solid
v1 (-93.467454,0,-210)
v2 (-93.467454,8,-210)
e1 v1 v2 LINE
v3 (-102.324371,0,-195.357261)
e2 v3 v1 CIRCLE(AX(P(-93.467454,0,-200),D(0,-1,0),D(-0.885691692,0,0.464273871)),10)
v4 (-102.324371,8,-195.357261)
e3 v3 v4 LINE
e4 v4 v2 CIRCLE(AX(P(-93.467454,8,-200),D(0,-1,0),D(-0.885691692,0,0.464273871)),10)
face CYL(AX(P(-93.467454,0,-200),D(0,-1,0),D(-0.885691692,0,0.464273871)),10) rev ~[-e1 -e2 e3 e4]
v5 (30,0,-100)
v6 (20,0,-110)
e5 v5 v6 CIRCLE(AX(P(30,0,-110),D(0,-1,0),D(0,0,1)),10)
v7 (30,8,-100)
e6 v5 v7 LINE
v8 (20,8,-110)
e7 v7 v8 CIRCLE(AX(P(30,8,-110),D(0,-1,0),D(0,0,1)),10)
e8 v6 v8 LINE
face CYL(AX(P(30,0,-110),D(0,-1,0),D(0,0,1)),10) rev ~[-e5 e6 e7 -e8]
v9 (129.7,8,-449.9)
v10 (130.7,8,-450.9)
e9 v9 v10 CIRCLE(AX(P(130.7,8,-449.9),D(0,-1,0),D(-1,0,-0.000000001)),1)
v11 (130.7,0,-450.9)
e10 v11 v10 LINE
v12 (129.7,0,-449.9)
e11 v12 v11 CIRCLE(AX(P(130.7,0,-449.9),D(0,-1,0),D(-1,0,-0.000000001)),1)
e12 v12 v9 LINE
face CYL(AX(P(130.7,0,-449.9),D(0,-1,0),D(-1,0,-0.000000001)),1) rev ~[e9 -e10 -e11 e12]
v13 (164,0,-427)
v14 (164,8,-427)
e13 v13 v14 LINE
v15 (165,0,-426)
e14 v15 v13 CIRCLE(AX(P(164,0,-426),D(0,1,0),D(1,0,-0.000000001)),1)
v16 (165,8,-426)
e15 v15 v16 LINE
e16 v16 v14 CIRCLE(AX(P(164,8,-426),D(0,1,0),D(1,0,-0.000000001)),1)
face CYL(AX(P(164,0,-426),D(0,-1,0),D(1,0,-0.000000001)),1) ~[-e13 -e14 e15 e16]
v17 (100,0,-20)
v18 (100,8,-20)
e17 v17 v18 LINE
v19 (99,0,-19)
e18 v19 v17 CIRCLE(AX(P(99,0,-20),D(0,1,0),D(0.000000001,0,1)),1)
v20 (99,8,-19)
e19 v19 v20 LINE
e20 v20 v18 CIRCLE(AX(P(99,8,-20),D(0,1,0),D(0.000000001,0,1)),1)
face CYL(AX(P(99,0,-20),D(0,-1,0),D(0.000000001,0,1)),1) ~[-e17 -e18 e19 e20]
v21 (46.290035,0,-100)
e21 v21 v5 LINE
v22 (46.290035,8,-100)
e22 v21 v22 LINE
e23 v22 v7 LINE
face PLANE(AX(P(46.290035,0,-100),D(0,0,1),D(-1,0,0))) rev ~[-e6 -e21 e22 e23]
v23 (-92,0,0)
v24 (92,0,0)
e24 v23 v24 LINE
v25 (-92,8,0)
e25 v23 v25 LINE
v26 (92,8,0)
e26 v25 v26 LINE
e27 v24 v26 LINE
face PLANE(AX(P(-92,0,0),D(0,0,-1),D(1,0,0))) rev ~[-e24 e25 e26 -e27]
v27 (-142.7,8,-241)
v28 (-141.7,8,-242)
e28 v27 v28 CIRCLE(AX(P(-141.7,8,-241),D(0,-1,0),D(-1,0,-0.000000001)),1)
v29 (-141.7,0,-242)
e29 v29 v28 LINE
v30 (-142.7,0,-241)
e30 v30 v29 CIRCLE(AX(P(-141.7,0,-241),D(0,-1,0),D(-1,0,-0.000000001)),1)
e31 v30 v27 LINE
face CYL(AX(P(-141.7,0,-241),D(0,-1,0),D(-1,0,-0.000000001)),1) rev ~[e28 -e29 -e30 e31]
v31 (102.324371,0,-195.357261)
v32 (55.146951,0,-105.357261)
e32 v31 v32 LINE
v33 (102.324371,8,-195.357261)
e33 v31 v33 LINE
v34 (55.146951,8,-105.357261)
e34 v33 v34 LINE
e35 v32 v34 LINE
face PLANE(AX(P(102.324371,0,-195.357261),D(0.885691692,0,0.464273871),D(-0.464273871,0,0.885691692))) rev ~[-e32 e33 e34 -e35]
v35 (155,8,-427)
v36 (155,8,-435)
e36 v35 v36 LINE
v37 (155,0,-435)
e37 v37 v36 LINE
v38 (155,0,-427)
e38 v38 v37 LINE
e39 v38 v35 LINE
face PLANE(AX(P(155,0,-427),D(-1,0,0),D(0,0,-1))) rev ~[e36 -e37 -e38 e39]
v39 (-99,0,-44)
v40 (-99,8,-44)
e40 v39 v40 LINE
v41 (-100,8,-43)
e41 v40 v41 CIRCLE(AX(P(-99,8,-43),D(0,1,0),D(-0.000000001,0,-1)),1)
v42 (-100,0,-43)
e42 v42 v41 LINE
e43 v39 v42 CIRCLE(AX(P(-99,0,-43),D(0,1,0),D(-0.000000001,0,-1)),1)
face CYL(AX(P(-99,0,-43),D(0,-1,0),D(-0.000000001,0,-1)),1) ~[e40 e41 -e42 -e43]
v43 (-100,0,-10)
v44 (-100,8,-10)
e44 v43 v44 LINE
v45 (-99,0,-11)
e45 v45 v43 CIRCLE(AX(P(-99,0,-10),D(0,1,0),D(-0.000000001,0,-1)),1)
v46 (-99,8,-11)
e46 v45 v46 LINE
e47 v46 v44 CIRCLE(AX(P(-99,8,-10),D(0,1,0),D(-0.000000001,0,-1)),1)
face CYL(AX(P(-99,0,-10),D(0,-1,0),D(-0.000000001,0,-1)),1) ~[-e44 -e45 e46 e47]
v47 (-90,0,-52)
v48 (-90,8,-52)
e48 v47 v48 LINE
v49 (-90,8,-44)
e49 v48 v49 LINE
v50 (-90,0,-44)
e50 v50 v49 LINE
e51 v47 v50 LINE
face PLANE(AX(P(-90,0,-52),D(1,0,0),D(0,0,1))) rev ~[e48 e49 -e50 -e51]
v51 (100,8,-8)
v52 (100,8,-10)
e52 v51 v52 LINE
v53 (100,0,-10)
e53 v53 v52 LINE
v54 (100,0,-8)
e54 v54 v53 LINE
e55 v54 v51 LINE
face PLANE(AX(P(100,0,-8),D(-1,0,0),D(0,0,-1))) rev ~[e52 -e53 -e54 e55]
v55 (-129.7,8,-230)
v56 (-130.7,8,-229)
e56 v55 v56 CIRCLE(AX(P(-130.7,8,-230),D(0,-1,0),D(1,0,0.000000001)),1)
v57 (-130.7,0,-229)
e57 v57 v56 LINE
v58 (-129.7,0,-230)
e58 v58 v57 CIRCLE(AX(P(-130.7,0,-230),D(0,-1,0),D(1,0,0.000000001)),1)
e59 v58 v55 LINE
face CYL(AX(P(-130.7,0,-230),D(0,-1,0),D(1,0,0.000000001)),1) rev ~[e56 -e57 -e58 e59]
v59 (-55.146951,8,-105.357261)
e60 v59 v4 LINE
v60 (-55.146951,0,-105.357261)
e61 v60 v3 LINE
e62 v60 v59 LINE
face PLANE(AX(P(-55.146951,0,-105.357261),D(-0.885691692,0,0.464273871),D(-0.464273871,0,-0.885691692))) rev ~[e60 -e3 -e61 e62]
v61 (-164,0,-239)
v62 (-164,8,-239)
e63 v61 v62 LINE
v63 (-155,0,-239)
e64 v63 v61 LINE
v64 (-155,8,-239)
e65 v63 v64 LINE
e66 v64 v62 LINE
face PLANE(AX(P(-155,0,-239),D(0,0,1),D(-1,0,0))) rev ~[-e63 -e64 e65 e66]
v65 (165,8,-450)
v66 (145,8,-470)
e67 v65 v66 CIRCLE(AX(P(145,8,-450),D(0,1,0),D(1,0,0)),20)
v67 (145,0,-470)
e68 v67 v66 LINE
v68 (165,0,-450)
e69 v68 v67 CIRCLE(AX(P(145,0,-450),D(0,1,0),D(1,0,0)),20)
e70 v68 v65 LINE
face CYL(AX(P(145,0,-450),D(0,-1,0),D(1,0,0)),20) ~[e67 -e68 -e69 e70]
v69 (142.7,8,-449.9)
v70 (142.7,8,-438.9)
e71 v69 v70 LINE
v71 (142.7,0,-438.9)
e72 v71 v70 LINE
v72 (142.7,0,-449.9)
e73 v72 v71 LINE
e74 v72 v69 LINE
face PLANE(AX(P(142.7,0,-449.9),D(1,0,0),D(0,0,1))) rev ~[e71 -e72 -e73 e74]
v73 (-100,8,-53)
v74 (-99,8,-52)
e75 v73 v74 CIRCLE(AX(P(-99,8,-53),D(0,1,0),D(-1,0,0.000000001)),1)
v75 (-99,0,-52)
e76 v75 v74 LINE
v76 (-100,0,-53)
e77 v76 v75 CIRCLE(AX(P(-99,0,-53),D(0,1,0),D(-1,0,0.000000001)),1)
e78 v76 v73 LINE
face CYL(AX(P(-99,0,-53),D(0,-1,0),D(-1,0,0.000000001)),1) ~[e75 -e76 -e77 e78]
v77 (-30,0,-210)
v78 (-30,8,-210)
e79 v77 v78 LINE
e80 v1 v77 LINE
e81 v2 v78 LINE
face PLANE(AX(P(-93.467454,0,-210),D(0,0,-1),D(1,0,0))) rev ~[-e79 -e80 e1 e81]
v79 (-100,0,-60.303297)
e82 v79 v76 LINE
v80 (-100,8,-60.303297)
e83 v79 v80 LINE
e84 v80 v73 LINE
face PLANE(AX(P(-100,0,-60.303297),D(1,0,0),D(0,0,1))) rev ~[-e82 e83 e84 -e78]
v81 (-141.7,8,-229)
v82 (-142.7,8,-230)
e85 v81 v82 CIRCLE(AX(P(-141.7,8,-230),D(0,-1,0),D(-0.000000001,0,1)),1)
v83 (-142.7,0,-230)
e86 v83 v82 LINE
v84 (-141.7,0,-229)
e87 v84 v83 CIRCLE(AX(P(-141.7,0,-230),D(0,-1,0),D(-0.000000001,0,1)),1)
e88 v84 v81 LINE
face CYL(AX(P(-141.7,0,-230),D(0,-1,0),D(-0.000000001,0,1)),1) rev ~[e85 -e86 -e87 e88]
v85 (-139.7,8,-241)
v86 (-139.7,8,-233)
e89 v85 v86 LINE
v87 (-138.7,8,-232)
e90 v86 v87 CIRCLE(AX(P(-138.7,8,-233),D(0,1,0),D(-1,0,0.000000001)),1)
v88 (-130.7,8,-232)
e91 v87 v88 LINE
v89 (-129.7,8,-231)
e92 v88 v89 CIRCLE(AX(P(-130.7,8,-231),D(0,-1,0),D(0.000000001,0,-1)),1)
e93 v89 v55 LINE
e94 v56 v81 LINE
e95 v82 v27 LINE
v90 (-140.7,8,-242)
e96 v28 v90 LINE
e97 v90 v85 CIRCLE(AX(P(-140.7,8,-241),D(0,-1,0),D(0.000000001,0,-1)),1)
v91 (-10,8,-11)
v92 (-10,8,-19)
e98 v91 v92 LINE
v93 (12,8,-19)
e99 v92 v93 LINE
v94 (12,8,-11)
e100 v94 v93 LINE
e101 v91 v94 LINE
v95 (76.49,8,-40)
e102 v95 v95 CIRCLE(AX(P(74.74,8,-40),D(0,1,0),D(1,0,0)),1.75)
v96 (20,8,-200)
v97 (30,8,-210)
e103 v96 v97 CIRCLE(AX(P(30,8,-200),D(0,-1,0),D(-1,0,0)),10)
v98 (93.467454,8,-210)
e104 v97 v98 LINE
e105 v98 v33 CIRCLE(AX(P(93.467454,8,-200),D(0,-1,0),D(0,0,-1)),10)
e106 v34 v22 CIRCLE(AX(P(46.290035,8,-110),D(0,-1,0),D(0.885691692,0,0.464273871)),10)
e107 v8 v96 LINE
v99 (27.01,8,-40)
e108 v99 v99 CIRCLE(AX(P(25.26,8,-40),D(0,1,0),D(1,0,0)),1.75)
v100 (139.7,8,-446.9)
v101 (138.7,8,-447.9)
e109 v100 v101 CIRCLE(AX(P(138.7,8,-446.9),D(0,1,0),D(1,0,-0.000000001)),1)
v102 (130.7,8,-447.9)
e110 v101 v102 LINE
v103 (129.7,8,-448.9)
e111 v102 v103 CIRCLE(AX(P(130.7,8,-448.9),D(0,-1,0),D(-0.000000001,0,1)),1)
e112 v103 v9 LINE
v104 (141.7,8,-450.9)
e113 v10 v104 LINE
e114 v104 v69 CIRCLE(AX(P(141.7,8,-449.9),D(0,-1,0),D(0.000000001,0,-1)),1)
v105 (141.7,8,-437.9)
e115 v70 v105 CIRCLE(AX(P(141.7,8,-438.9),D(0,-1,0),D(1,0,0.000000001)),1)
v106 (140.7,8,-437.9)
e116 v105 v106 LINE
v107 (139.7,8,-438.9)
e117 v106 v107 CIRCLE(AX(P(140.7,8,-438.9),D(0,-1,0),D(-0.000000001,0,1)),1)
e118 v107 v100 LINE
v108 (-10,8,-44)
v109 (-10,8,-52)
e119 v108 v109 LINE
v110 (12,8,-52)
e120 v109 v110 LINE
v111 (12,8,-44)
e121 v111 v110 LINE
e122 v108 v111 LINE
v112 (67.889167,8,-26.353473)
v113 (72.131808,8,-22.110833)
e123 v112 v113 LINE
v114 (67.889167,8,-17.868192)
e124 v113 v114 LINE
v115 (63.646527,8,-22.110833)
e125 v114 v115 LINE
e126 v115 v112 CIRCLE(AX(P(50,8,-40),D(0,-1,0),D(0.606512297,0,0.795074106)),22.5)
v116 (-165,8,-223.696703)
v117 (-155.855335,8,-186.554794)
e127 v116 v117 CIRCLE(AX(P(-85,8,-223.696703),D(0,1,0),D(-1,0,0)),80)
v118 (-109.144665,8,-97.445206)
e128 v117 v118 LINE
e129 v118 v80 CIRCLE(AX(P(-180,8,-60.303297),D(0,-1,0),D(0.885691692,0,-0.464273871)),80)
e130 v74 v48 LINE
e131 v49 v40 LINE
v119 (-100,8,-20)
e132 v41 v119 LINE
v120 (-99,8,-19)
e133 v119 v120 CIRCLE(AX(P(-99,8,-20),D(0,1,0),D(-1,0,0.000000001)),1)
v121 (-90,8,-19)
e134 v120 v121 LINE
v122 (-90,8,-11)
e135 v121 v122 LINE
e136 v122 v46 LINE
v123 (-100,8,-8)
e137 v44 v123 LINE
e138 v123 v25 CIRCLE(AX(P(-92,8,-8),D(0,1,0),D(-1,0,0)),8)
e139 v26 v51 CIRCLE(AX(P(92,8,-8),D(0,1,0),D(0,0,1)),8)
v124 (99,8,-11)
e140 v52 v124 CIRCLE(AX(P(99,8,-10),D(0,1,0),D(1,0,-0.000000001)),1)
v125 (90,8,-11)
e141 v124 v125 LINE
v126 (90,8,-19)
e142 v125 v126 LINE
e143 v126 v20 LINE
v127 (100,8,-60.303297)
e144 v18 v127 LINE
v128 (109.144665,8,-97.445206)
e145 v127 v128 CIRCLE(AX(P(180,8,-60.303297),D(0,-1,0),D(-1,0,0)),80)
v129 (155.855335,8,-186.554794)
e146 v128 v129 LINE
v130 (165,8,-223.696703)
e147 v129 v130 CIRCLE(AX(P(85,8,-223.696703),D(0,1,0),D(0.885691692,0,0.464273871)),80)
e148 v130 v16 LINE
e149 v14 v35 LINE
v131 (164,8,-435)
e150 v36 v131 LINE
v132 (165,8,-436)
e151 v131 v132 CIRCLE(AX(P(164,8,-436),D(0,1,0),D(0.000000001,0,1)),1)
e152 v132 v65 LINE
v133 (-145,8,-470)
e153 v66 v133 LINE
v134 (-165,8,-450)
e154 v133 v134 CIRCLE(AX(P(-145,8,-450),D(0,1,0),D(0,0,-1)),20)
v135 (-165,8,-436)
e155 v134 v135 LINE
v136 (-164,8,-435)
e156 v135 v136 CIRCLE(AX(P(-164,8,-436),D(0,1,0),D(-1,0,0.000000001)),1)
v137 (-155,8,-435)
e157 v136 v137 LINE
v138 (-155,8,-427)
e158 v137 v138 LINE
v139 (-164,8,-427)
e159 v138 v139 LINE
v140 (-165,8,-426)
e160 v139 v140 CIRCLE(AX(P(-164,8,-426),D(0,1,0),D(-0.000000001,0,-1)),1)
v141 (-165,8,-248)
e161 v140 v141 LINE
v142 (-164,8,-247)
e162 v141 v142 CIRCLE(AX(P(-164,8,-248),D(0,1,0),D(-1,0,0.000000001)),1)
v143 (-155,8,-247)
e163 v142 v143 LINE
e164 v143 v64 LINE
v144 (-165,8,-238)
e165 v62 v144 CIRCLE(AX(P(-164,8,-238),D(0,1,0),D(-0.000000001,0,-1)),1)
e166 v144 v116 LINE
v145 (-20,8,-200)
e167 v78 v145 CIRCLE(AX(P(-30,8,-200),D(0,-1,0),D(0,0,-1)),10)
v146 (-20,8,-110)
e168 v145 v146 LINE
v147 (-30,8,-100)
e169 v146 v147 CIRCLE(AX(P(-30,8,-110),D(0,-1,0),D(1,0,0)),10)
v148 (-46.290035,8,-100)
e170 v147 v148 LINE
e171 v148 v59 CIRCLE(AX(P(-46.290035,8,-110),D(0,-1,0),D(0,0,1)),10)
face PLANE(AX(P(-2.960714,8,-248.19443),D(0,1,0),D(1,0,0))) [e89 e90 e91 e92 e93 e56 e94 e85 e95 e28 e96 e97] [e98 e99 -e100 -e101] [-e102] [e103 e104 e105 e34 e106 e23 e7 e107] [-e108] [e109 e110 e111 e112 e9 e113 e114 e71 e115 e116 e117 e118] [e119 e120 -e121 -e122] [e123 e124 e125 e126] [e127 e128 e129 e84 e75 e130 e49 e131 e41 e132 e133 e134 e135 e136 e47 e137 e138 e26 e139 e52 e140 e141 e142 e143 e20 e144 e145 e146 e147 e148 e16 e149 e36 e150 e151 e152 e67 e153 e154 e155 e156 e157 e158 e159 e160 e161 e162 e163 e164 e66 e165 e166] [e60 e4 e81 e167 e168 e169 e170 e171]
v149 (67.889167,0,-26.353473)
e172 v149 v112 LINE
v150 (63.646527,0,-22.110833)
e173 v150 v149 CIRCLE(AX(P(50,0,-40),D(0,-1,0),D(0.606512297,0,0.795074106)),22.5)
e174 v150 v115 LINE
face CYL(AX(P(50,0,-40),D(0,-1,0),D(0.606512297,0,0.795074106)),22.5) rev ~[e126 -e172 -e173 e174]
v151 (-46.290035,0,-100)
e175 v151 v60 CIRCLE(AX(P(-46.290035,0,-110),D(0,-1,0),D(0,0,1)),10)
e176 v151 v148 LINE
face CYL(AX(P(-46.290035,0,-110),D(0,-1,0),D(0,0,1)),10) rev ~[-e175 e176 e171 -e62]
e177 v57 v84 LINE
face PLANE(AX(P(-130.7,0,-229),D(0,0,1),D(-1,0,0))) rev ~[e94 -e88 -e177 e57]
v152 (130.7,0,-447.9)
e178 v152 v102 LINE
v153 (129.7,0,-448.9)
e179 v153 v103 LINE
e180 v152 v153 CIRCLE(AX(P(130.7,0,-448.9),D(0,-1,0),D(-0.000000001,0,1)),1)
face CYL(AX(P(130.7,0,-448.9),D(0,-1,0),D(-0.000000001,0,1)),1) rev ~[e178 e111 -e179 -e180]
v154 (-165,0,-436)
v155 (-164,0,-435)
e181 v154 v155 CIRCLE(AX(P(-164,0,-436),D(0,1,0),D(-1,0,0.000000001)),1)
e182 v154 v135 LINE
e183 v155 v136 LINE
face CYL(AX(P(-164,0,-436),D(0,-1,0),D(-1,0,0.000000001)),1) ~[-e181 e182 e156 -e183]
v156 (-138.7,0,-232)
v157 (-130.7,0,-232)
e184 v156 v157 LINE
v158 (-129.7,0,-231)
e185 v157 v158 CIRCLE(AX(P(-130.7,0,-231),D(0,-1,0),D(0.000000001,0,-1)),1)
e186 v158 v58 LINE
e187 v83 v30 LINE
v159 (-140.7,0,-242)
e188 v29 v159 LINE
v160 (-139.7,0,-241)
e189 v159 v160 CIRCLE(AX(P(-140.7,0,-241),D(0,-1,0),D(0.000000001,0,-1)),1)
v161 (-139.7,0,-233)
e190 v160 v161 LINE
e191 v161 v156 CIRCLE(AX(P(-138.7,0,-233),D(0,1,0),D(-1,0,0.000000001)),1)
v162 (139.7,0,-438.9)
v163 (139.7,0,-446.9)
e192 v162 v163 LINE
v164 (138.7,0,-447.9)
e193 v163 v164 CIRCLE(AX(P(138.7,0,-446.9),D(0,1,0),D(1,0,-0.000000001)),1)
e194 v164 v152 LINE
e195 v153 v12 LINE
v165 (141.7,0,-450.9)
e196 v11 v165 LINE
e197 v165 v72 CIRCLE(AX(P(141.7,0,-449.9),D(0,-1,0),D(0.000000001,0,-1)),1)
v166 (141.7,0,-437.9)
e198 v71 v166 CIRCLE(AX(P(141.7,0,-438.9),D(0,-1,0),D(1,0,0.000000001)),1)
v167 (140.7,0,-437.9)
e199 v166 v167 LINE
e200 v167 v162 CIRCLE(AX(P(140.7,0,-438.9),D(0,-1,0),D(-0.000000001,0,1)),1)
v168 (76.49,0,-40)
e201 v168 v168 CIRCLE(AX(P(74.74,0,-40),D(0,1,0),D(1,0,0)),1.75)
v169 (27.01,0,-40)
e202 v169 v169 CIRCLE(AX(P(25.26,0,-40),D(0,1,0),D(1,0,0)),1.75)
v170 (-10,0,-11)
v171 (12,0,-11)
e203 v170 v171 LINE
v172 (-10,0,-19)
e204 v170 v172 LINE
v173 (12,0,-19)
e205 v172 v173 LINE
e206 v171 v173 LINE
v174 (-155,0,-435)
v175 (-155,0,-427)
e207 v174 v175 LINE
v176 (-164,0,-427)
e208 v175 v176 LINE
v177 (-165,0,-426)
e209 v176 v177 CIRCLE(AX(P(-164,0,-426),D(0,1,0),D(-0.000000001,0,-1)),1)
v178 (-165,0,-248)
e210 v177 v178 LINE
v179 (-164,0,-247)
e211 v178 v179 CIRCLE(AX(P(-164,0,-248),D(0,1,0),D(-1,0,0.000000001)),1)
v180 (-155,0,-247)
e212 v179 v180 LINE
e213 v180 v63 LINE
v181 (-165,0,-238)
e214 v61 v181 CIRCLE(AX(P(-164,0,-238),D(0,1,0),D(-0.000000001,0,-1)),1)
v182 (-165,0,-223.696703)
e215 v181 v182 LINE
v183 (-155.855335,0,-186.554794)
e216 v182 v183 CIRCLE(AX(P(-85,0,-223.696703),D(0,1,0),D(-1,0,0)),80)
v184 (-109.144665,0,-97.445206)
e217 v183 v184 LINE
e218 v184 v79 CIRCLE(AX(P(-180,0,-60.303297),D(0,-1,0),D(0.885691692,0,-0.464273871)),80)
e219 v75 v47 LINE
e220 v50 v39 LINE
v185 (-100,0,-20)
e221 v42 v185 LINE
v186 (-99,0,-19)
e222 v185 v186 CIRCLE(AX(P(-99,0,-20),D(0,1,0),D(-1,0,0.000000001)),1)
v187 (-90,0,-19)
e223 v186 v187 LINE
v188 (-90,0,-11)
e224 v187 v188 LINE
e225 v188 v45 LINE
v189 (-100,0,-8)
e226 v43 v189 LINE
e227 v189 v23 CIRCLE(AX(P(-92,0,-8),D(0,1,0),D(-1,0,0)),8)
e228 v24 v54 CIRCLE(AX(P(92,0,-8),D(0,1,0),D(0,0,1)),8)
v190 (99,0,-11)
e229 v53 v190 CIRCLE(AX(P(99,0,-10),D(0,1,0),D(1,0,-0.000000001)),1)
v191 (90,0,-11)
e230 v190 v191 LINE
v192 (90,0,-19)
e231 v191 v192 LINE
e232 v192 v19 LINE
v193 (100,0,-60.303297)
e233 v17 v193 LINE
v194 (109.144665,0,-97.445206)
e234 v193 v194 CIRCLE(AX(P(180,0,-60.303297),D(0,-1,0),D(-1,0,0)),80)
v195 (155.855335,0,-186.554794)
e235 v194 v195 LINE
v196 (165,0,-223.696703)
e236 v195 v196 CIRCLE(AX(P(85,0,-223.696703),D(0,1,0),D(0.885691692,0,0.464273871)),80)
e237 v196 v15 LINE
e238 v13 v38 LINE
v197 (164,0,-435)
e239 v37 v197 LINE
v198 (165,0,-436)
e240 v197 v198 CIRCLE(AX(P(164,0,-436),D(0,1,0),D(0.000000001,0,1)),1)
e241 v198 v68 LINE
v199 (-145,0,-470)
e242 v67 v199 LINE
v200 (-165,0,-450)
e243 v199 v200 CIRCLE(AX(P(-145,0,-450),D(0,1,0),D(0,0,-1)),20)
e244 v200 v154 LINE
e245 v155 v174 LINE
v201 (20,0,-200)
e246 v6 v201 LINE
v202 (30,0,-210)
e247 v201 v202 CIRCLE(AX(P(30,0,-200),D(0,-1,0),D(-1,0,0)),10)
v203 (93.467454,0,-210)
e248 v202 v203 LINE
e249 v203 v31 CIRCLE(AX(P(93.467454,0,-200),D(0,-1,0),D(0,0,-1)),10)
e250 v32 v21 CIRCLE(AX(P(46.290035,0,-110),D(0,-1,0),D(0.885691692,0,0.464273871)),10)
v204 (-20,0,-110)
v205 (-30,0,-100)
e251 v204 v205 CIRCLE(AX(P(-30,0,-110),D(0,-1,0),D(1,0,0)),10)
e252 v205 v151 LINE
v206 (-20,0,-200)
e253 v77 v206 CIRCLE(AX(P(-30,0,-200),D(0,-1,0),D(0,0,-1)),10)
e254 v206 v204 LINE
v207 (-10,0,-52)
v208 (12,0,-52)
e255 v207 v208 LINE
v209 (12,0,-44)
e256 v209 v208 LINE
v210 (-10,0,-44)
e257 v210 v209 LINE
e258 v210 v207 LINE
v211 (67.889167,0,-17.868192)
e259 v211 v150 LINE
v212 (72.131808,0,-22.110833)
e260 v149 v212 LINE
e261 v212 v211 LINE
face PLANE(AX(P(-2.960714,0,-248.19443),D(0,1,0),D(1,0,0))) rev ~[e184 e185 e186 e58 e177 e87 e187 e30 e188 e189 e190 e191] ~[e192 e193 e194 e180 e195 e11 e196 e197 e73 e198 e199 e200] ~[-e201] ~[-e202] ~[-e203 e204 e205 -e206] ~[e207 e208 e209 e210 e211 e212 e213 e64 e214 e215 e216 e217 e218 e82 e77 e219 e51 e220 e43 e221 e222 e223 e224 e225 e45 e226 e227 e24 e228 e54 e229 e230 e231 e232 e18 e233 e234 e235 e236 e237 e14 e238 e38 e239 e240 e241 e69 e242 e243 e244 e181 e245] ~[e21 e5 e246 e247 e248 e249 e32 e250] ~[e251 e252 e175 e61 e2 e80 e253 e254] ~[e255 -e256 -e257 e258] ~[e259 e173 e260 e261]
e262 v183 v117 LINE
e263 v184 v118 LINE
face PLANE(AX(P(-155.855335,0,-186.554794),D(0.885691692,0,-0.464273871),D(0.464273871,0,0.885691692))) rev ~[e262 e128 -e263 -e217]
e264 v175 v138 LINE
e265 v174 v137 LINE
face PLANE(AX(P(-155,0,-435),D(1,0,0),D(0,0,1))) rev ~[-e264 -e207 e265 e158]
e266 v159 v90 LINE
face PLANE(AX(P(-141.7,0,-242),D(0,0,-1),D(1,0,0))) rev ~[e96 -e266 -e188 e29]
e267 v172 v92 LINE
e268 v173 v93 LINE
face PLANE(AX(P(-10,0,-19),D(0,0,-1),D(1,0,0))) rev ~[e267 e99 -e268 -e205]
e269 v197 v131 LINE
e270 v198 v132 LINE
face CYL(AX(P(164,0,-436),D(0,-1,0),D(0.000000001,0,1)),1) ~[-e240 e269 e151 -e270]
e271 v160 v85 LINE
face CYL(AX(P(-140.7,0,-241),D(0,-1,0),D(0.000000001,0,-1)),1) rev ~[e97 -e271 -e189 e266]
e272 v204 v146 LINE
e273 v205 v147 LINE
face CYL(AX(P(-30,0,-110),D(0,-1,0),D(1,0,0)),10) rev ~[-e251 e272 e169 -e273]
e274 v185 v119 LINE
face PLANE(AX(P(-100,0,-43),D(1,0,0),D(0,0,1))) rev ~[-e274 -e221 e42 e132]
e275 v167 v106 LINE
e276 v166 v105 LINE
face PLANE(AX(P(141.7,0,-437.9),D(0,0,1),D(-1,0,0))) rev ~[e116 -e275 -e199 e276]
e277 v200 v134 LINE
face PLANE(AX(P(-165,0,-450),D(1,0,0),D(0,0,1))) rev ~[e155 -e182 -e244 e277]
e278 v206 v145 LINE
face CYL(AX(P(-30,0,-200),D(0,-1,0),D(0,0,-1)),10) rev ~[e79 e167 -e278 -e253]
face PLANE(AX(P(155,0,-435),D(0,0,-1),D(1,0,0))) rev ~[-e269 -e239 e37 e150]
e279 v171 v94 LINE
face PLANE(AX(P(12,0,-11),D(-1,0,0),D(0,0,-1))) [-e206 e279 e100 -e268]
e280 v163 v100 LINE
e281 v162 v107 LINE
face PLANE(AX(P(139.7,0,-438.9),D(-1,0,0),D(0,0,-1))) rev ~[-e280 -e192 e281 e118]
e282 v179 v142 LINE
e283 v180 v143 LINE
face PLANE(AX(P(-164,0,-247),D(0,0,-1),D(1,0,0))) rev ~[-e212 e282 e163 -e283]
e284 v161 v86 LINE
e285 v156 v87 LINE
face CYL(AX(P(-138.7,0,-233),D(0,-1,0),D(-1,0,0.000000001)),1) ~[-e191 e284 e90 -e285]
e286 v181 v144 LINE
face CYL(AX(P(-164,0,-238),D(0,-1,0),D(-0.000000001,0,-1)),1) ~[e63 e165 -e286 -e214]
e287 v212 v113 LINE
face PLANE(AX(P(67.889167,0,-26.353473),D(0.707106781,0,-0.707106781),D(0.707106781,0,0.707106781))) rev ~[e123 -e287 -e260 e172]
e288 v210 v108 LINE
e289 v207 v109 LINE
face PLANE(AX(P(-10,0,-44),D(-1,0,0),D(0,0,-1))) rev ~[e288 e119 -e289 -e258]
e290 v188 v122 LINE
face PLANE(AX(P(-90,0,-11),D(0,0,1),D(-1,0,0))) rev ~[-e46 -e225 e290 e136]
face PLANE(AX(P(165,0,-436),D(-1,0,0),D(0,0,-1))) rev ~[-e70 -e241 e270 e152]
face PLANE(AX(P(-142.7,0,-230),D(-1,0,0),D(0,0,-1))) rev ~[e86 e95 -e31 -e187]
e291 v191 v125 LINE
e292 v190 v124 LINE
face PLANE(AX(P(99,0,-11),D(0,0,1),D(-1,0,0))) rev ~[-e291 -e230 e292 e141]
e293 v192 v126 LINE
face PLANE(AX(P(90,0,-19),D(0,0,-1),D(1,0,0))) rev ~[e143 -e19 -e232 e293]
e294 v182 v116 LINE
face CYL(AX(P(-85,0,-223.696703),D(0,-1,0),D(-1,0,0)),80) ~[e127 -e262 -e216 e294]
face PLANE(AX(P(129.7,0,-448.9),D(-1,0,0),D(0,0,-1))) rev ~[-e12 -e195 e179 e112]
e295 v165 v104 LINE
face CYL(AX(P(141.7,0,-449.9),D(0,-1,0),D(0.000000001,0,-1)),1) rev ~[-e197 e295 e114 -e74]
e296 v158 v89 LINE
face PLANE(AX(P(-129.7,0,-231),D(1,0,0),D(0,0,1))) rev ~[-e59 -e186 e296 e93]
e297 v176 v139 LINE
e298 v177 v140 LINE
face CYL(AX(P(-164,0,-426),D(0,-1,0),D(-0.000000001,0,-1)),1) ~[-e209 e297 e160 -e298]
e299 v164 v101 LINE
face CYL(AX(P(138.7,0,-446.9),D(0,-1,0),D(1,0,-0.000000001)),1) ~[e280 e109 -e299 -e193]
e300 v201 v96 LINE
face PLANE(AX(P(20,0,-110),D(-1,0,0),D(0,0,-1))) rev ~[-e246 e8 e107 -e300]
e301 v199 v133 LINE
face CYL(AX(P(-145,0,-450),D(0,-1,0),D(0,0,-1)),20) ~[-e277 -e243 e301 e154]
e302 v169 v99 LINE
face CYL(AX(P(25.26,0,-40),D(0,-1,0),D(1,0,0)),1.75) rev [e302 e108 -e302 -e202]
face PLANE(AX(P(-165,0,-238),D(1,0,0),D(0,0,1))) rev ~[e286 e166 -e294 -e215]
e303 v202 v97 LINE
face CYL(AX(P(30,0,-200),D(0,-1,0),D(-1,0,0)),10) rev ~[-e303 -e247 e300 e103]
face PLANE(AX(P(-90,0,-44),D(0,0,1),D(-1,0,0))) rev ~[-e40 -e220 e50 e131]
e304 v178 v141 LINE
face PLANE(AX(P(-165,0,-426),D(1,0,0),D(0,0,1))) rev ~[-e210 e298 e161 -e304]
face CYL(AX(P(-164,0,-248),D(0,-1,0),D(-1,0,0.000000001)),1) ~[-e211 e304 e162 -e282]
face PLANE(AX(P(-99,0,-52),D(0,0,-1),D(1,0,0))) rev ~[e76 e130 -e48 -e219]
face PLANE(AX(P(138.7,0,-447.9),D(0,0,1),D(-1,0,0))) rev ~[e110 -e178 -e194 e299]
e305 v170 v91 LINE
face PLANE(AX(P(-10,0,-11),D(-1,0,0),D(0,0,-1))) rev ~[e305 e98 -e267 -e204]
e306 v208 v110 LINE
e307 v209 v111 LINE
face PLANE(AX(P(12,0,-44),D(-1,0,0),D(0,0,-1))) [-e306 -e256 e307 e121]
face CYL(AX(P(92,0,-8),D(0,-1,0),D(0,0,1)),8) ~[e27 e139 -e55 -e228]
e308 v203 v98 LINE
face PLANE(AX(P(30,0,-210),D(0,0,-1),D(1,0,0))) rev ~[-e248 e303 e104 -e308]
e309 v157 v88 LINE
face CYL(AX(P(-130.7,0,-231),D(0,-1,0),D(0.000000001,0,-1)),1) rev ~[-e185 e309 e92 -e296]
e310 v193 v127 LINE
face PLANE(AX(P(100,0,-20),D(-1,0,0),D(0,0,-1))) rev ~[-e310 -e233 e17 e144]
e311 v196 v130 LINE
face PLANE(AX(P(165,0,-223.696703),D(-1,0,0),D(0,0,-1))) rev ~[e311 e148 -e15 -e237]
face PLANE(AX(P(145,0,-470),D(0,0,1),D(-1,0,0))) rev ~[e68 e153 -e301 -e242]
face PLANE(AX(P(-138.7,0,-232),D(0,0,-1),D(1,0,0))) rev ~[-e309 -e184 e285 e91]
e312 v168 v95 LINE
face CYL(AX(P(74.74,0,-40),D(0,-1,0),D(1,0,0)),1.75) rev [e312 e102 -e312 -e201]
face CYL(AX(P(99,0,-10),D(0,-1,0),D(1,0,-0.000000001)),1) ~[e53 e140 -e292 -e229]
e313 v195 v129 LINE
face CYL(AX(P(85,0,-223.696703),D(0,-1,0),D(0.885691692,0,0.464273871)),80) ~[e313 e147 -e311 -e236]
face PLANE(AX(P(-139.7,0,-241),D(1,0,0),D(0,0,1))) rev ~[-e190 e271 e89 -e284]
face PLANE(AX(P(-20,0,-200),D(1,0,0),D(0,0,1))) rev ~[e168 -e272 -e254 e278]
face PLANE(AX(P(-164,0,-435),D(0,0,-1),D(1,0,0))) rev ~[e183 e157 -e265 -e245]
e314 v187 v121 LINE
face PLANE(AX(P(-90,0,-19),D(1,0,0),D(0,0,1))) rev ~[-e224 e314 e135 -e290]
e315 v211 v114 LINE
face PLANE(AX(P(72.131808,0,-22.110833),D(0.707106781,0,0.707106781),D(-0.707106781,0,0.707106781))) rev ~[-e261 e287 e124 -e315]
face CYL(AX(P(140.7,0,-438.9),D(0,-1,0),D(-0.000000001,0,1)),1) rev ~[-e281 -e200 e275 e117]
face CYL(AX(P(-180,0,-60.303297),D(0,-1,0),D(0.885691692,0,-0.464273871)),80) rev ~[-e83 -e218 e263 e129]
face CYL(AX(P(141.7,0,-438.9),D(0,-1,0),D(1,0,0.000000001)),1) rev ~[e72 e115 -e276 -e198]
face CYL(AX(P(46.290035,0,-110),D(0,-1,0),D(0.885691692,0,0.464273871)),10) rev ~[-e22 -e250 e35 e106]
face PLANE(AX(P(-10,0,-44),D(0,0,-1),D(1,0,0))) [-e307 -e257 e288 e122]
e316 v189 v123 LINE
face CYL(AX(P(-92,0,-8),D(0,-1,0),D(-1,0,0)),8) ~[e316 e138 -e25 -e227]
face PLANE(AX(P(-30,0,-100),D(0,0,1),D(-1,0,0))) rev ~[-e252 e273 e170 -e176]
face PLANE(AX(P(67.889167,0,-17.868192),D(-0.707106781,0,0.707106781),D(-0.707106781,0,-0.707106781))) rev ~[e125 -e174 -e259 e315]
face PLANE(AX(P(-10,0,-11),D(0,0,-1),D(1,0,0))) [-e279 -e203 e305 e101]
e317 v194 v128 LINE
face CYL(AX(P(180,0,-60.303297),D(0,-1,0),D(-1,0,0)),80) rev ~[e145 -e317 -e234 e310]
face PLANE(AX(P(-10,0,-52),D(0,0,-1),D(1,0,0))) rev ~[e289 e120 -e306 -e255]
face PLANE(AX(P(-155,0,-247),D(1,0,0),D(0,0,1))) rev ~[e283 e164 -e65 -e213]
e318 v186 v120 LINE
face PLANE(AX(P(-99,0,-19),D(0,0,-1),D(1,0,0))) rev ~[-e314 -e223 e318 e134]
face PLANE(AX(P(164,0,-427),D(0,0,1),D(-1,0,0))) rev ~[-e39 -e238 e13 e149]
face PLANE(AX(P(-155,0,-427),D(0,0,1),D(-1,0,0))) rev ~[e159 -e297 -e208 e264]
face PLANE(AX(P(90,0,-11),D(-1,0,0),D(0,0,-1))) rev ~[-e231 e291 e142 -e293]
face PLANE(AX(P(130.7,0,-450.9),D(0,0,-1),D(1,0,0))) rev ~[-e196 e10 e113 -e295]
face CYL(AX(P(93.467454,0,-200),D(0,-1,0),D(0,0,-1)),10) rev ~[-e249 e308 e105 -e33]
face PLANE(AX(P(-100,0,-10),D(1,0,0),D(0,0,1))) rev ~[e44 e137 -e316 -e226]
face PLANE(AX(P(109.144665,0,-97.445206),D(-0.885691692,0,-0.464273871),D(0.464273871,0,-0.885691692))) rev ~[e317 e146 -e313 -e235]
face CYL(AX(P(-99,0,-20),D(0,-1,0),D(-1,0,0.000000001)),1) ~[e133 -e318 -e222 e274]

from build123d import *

# Parameters (mm, degrees)
SKETCH1_W           = 22
SKETCH1_H           = 8
SKETCH1_R           = 1.75
BOSS_EXTRUDE1_DEPTH = 8


with BuildPart() as part:
    # Sketch1 → Boss-Extrude1 (new body)
    with BuildSketch(Plane(origin=(0, 0, 0), x_dir=(1, 0, 0), z_dir=(0, 1, 0))):
        with BuildLine():
            Line((-92, 0), (92, 0))
            ThreePointArc((92, 0), (97.656854249, 2.343145751), (100, 8))
            Line((100, 8), (100, 10))
            ThreePointArc((100, 10), (99.707106781, 10.707106781), (99, 11))
            Line((99, 11), (90, 11))
            Line((90, 11), (90, 19))
            Line((90, 19), (99, 19))
            ThreePointArc((99, 19), (99.707106781, 19.292893219), (100, 20))
            Line((100, 20), (100, 60.303296759))
            ThreePointArc((100, 60.303296759), (102.319800375, 79.428844756), (109.144664654, 97.445206417))
            Line((109.144664654, 97.445206417), (155.855335346, 186.554793583))
            ThreePointArc((155.855335346, 186.554793583), (162.680199625, 204.571155244), (165, 223.696703241))
            Line((165, 223.696703241), (165, 426))
            ThreePointArc((165, 426), (164.707106781, 426.707106781), (164, 427))
            Line((164, 427), (155, 427))
            Line((155, 427), (155, 435))
            Line((155, 435), (164, 435))
            ThreePointArc((164, 435), (164.707106781, 435.292893219), (165, 436))
            Line((165, 436), (165, 450))
            ThreePointArc((165, 450), (159.142135624, 464.142135624), (145, 470))
            Line((145, 470), (-145, 470))
            ThreePointArc((-145, 470), (-159.142135624, 464.142135624), (-165, 450))
            Line((-165, 450), (-165, 436))
            ThreePointArc((-165, 436), (-164.707106781, 435.292893219), (-164, 435))
            Line((-164, 435), (-155, 435))
            Line((-155, 435), (-155, 427))
            Line((-155, 427), (-164, 427))
            ThreePointArc((-164, 427), (-164.707106781, 426.707106781), (-165, 426))
            Line((-165, 426), (-165, 248))
            ThreePointArc((-165, 248), (-164.707106781, 247.292893219), (-164, 247))
            Line((-164, 247), (-155, 247))
            Line((-155, 247), (-155, 239))
            Line((-155, 239), (-164, 239))
            ThreePointArc((-164, 239), (-164.707106781, 238.707106781), (-165, 238))
            Line((-165, 238), (-165, 223.696703241))
            ThreePointArc((-165, 223.696703241), (-162.680199625, 204.571155244), (-155.855335346, 186.554793583))
            Line((-155.855335346, 186.554793583), (-109.144664654, 97.445206417))
            ThreePointArc((-109.144664654, 97.445206417), (-102.319800375, 79.428844756), (-100, 60.303296759))
            Line((-100, 60.303296759), (-100, 53))
            ThreePointArc((-100, 53), (-99.707106781, 52.292893219), (-99, 52))
            Line((-99, 52), (-90, 52))
            Line((-90, 52), (-90, 44))
            Line((-90, 44), (-99, 44))
            ThreePointArc((-99, 44), (-99.707106781, 43.707106781), (-100, 43))
            Line((-100, 43), (-100, 20))
            ThreePointArc((-100, 20), (-99.707106781, 19.292893219), (-99, 19))
            Line((-99, 19), (-90, 19))
            Line((-90, 19), (-90, 11))
            Line((-90, 11), (-99, 11))
            ThreePointArc((-99, 11), (-99.707106781, 10.707106781), (-100, 10))
            Line((-100, 10), (-100, 8))
            ThreePointArc((-100, 8), (-97.656854249, 2.343145751), (-92, 0))
        make_face()
        with BuildLine():
            Line((-55.146951484, 105.357261293), (-102.324370839, 195.357261293))
            ThreePointArc((-102.324370839, 195.357261293), (-102.023953996, 205.175548905), (-93.467453921, 210))
            Line((-93.467453921, 210), (-30, 210))
            ThreePointArc((-30, 210), (-22.928932188, 207.071067812), (-20, 200))
            Line((-20, 200), (-20, 110))
            ThreePointArc((-20, 110), (-22.928932188, 102.928932188), (-30, 100))
            Line((-30, 100), (-46.290034566, 100))
            ThreePointArc((-46.290034566, 100), (-51.465583471, 101.443499925), (-55.146951484, 105.357261293))
        make_face(mode=Mode.SUBTRACT)
        with Locations((1, 15)):
            Rectangle(SKETCH1_W, SKETCH1_H, mode=Mode.SUBTRACT)
        with Locations((1, 48)):
            Rectangle(SKETCH1_W, SKETCH1_H, mode=Mode.SUBTRACT)
        with Locations((25.26, 40)):
            Circle(SKETCH1_R, mode=Mode.SUBTRACT)
        with BuildLine():
            ThreePointArc((63.646526688, 22.110832625), (34.090097423, 55.909902577), (67.889167375, 26.353473312))
            Line((67.889167375, 26.353473312), (72.131808062, 22.110832625))
            Line((72.131808062, 22.110832625), (67.889167375, 17.868191938))
            Line((67.889167375, 17.868191938), (63.646526688, 22.110832625))
        make_face(mode=Mode.SUBTRACT)
        with Locations((74.74, 40)):
            Circle(SKETCH1_R, mode=Mode.SUBTRACT)
        with BuildLine():
            ThreePointArc((20, 200), (22.928932188, 207.071067812), (30, 210))
            Line((30, 210), (93.467453921, 210))
            ThreePointArc((93.467453921, 210), (102.023953996, 205.175548905), (102.324370839, 195.357261293))
            Line((102.324370839, 195.357261293), (55.146951484, 105.357261293))
            ThreePointArc((55.146951484, 105.357261293), (51.465583471, 101.443499925), (46.290034566, 100))
            Line((46.290034566, 100), (30, 100))
            ThreePointArc((30, 100), (22.928932188, 102.928932188), (20, 110))
            Line((20, 110), (20, 200))
        make_face(mode=Mode.SUBTRACT)
        with BuildLine():
            ThreePointArc((-140.7, 242), (-139.992893219, 241.707106781), (-139.7, 241))
            Line((-139.7, 241), (-139.7, 233))
            ThreePointArc((-139.7, 233), (-139.407106781, 232.292893219), (-138.7, 232))
            Line((-138.7, 232), (-130.7, 232))
            ThreePointArc((-130.7, 232), (-129.992893219, 231.707106781), (-129.7, 231))
            Line((-129.7, 231), (-129.7, 230))
            ThreePointArc((-129.7, 230), (-129.992893219, 229.292893219), (-130.7, 229))
            Line((-130.7, 229), (-141.7, 229))
            ThreePointArc((-141.7, 229), (-142.407106781, 229.292893219), (-142.7, 230))
            Line((-142.7, 230), (-142.7, 241))
            ThreePointArc((-142.7, 241), (-142.407106781, 241.707106781), (-141.7, 242))
            Line((-141.7, 242), (-140.7, 242))
        make_face(mode=Mode.SUBTRACT)
        with BuildLine():
            Line((129.7, 448.9), (129.7, 449.9))
            ThreePointArc((129.7, 449.9), (129.992893219, 450.607106781), (130.7, 450.9))
            Line((130.7, 450.9), (141.7, 450.9))
            ThreePointArc((141.7, 450.9), (142.407106781, 450.607106781), (142.7, 449.9))
            Line((142.7, 449.9), (142.7, 438.9))
            ThreePointArc((142.7, 438.9), (142.407106781, 438.192893219), (141.7, 437.9))
            Line((141.7, 437.9), (140.7, 437.9))
            ThreePointArc((140.7, 437.9), (139.992893219, 438.192893219), (139.7, 438.9))
            Line((139.7, 438.9), (139.7, 446.9))
            ThreePointArc((139.7, 446.9), (139.407106781, 447.607106781), (138.7, 447.9))
            Line((138.7, 447.9), (130.7, 447.9))
            ThreePointArc((130.7, 447.9), (129.992893219, 448.192893219), (129.7, 448.9))
        make_face(mode=Mode.SUBTRACT)
    extrude(amount=BOSS_EXTRUDE1_DEPTH)


solid = part.part
